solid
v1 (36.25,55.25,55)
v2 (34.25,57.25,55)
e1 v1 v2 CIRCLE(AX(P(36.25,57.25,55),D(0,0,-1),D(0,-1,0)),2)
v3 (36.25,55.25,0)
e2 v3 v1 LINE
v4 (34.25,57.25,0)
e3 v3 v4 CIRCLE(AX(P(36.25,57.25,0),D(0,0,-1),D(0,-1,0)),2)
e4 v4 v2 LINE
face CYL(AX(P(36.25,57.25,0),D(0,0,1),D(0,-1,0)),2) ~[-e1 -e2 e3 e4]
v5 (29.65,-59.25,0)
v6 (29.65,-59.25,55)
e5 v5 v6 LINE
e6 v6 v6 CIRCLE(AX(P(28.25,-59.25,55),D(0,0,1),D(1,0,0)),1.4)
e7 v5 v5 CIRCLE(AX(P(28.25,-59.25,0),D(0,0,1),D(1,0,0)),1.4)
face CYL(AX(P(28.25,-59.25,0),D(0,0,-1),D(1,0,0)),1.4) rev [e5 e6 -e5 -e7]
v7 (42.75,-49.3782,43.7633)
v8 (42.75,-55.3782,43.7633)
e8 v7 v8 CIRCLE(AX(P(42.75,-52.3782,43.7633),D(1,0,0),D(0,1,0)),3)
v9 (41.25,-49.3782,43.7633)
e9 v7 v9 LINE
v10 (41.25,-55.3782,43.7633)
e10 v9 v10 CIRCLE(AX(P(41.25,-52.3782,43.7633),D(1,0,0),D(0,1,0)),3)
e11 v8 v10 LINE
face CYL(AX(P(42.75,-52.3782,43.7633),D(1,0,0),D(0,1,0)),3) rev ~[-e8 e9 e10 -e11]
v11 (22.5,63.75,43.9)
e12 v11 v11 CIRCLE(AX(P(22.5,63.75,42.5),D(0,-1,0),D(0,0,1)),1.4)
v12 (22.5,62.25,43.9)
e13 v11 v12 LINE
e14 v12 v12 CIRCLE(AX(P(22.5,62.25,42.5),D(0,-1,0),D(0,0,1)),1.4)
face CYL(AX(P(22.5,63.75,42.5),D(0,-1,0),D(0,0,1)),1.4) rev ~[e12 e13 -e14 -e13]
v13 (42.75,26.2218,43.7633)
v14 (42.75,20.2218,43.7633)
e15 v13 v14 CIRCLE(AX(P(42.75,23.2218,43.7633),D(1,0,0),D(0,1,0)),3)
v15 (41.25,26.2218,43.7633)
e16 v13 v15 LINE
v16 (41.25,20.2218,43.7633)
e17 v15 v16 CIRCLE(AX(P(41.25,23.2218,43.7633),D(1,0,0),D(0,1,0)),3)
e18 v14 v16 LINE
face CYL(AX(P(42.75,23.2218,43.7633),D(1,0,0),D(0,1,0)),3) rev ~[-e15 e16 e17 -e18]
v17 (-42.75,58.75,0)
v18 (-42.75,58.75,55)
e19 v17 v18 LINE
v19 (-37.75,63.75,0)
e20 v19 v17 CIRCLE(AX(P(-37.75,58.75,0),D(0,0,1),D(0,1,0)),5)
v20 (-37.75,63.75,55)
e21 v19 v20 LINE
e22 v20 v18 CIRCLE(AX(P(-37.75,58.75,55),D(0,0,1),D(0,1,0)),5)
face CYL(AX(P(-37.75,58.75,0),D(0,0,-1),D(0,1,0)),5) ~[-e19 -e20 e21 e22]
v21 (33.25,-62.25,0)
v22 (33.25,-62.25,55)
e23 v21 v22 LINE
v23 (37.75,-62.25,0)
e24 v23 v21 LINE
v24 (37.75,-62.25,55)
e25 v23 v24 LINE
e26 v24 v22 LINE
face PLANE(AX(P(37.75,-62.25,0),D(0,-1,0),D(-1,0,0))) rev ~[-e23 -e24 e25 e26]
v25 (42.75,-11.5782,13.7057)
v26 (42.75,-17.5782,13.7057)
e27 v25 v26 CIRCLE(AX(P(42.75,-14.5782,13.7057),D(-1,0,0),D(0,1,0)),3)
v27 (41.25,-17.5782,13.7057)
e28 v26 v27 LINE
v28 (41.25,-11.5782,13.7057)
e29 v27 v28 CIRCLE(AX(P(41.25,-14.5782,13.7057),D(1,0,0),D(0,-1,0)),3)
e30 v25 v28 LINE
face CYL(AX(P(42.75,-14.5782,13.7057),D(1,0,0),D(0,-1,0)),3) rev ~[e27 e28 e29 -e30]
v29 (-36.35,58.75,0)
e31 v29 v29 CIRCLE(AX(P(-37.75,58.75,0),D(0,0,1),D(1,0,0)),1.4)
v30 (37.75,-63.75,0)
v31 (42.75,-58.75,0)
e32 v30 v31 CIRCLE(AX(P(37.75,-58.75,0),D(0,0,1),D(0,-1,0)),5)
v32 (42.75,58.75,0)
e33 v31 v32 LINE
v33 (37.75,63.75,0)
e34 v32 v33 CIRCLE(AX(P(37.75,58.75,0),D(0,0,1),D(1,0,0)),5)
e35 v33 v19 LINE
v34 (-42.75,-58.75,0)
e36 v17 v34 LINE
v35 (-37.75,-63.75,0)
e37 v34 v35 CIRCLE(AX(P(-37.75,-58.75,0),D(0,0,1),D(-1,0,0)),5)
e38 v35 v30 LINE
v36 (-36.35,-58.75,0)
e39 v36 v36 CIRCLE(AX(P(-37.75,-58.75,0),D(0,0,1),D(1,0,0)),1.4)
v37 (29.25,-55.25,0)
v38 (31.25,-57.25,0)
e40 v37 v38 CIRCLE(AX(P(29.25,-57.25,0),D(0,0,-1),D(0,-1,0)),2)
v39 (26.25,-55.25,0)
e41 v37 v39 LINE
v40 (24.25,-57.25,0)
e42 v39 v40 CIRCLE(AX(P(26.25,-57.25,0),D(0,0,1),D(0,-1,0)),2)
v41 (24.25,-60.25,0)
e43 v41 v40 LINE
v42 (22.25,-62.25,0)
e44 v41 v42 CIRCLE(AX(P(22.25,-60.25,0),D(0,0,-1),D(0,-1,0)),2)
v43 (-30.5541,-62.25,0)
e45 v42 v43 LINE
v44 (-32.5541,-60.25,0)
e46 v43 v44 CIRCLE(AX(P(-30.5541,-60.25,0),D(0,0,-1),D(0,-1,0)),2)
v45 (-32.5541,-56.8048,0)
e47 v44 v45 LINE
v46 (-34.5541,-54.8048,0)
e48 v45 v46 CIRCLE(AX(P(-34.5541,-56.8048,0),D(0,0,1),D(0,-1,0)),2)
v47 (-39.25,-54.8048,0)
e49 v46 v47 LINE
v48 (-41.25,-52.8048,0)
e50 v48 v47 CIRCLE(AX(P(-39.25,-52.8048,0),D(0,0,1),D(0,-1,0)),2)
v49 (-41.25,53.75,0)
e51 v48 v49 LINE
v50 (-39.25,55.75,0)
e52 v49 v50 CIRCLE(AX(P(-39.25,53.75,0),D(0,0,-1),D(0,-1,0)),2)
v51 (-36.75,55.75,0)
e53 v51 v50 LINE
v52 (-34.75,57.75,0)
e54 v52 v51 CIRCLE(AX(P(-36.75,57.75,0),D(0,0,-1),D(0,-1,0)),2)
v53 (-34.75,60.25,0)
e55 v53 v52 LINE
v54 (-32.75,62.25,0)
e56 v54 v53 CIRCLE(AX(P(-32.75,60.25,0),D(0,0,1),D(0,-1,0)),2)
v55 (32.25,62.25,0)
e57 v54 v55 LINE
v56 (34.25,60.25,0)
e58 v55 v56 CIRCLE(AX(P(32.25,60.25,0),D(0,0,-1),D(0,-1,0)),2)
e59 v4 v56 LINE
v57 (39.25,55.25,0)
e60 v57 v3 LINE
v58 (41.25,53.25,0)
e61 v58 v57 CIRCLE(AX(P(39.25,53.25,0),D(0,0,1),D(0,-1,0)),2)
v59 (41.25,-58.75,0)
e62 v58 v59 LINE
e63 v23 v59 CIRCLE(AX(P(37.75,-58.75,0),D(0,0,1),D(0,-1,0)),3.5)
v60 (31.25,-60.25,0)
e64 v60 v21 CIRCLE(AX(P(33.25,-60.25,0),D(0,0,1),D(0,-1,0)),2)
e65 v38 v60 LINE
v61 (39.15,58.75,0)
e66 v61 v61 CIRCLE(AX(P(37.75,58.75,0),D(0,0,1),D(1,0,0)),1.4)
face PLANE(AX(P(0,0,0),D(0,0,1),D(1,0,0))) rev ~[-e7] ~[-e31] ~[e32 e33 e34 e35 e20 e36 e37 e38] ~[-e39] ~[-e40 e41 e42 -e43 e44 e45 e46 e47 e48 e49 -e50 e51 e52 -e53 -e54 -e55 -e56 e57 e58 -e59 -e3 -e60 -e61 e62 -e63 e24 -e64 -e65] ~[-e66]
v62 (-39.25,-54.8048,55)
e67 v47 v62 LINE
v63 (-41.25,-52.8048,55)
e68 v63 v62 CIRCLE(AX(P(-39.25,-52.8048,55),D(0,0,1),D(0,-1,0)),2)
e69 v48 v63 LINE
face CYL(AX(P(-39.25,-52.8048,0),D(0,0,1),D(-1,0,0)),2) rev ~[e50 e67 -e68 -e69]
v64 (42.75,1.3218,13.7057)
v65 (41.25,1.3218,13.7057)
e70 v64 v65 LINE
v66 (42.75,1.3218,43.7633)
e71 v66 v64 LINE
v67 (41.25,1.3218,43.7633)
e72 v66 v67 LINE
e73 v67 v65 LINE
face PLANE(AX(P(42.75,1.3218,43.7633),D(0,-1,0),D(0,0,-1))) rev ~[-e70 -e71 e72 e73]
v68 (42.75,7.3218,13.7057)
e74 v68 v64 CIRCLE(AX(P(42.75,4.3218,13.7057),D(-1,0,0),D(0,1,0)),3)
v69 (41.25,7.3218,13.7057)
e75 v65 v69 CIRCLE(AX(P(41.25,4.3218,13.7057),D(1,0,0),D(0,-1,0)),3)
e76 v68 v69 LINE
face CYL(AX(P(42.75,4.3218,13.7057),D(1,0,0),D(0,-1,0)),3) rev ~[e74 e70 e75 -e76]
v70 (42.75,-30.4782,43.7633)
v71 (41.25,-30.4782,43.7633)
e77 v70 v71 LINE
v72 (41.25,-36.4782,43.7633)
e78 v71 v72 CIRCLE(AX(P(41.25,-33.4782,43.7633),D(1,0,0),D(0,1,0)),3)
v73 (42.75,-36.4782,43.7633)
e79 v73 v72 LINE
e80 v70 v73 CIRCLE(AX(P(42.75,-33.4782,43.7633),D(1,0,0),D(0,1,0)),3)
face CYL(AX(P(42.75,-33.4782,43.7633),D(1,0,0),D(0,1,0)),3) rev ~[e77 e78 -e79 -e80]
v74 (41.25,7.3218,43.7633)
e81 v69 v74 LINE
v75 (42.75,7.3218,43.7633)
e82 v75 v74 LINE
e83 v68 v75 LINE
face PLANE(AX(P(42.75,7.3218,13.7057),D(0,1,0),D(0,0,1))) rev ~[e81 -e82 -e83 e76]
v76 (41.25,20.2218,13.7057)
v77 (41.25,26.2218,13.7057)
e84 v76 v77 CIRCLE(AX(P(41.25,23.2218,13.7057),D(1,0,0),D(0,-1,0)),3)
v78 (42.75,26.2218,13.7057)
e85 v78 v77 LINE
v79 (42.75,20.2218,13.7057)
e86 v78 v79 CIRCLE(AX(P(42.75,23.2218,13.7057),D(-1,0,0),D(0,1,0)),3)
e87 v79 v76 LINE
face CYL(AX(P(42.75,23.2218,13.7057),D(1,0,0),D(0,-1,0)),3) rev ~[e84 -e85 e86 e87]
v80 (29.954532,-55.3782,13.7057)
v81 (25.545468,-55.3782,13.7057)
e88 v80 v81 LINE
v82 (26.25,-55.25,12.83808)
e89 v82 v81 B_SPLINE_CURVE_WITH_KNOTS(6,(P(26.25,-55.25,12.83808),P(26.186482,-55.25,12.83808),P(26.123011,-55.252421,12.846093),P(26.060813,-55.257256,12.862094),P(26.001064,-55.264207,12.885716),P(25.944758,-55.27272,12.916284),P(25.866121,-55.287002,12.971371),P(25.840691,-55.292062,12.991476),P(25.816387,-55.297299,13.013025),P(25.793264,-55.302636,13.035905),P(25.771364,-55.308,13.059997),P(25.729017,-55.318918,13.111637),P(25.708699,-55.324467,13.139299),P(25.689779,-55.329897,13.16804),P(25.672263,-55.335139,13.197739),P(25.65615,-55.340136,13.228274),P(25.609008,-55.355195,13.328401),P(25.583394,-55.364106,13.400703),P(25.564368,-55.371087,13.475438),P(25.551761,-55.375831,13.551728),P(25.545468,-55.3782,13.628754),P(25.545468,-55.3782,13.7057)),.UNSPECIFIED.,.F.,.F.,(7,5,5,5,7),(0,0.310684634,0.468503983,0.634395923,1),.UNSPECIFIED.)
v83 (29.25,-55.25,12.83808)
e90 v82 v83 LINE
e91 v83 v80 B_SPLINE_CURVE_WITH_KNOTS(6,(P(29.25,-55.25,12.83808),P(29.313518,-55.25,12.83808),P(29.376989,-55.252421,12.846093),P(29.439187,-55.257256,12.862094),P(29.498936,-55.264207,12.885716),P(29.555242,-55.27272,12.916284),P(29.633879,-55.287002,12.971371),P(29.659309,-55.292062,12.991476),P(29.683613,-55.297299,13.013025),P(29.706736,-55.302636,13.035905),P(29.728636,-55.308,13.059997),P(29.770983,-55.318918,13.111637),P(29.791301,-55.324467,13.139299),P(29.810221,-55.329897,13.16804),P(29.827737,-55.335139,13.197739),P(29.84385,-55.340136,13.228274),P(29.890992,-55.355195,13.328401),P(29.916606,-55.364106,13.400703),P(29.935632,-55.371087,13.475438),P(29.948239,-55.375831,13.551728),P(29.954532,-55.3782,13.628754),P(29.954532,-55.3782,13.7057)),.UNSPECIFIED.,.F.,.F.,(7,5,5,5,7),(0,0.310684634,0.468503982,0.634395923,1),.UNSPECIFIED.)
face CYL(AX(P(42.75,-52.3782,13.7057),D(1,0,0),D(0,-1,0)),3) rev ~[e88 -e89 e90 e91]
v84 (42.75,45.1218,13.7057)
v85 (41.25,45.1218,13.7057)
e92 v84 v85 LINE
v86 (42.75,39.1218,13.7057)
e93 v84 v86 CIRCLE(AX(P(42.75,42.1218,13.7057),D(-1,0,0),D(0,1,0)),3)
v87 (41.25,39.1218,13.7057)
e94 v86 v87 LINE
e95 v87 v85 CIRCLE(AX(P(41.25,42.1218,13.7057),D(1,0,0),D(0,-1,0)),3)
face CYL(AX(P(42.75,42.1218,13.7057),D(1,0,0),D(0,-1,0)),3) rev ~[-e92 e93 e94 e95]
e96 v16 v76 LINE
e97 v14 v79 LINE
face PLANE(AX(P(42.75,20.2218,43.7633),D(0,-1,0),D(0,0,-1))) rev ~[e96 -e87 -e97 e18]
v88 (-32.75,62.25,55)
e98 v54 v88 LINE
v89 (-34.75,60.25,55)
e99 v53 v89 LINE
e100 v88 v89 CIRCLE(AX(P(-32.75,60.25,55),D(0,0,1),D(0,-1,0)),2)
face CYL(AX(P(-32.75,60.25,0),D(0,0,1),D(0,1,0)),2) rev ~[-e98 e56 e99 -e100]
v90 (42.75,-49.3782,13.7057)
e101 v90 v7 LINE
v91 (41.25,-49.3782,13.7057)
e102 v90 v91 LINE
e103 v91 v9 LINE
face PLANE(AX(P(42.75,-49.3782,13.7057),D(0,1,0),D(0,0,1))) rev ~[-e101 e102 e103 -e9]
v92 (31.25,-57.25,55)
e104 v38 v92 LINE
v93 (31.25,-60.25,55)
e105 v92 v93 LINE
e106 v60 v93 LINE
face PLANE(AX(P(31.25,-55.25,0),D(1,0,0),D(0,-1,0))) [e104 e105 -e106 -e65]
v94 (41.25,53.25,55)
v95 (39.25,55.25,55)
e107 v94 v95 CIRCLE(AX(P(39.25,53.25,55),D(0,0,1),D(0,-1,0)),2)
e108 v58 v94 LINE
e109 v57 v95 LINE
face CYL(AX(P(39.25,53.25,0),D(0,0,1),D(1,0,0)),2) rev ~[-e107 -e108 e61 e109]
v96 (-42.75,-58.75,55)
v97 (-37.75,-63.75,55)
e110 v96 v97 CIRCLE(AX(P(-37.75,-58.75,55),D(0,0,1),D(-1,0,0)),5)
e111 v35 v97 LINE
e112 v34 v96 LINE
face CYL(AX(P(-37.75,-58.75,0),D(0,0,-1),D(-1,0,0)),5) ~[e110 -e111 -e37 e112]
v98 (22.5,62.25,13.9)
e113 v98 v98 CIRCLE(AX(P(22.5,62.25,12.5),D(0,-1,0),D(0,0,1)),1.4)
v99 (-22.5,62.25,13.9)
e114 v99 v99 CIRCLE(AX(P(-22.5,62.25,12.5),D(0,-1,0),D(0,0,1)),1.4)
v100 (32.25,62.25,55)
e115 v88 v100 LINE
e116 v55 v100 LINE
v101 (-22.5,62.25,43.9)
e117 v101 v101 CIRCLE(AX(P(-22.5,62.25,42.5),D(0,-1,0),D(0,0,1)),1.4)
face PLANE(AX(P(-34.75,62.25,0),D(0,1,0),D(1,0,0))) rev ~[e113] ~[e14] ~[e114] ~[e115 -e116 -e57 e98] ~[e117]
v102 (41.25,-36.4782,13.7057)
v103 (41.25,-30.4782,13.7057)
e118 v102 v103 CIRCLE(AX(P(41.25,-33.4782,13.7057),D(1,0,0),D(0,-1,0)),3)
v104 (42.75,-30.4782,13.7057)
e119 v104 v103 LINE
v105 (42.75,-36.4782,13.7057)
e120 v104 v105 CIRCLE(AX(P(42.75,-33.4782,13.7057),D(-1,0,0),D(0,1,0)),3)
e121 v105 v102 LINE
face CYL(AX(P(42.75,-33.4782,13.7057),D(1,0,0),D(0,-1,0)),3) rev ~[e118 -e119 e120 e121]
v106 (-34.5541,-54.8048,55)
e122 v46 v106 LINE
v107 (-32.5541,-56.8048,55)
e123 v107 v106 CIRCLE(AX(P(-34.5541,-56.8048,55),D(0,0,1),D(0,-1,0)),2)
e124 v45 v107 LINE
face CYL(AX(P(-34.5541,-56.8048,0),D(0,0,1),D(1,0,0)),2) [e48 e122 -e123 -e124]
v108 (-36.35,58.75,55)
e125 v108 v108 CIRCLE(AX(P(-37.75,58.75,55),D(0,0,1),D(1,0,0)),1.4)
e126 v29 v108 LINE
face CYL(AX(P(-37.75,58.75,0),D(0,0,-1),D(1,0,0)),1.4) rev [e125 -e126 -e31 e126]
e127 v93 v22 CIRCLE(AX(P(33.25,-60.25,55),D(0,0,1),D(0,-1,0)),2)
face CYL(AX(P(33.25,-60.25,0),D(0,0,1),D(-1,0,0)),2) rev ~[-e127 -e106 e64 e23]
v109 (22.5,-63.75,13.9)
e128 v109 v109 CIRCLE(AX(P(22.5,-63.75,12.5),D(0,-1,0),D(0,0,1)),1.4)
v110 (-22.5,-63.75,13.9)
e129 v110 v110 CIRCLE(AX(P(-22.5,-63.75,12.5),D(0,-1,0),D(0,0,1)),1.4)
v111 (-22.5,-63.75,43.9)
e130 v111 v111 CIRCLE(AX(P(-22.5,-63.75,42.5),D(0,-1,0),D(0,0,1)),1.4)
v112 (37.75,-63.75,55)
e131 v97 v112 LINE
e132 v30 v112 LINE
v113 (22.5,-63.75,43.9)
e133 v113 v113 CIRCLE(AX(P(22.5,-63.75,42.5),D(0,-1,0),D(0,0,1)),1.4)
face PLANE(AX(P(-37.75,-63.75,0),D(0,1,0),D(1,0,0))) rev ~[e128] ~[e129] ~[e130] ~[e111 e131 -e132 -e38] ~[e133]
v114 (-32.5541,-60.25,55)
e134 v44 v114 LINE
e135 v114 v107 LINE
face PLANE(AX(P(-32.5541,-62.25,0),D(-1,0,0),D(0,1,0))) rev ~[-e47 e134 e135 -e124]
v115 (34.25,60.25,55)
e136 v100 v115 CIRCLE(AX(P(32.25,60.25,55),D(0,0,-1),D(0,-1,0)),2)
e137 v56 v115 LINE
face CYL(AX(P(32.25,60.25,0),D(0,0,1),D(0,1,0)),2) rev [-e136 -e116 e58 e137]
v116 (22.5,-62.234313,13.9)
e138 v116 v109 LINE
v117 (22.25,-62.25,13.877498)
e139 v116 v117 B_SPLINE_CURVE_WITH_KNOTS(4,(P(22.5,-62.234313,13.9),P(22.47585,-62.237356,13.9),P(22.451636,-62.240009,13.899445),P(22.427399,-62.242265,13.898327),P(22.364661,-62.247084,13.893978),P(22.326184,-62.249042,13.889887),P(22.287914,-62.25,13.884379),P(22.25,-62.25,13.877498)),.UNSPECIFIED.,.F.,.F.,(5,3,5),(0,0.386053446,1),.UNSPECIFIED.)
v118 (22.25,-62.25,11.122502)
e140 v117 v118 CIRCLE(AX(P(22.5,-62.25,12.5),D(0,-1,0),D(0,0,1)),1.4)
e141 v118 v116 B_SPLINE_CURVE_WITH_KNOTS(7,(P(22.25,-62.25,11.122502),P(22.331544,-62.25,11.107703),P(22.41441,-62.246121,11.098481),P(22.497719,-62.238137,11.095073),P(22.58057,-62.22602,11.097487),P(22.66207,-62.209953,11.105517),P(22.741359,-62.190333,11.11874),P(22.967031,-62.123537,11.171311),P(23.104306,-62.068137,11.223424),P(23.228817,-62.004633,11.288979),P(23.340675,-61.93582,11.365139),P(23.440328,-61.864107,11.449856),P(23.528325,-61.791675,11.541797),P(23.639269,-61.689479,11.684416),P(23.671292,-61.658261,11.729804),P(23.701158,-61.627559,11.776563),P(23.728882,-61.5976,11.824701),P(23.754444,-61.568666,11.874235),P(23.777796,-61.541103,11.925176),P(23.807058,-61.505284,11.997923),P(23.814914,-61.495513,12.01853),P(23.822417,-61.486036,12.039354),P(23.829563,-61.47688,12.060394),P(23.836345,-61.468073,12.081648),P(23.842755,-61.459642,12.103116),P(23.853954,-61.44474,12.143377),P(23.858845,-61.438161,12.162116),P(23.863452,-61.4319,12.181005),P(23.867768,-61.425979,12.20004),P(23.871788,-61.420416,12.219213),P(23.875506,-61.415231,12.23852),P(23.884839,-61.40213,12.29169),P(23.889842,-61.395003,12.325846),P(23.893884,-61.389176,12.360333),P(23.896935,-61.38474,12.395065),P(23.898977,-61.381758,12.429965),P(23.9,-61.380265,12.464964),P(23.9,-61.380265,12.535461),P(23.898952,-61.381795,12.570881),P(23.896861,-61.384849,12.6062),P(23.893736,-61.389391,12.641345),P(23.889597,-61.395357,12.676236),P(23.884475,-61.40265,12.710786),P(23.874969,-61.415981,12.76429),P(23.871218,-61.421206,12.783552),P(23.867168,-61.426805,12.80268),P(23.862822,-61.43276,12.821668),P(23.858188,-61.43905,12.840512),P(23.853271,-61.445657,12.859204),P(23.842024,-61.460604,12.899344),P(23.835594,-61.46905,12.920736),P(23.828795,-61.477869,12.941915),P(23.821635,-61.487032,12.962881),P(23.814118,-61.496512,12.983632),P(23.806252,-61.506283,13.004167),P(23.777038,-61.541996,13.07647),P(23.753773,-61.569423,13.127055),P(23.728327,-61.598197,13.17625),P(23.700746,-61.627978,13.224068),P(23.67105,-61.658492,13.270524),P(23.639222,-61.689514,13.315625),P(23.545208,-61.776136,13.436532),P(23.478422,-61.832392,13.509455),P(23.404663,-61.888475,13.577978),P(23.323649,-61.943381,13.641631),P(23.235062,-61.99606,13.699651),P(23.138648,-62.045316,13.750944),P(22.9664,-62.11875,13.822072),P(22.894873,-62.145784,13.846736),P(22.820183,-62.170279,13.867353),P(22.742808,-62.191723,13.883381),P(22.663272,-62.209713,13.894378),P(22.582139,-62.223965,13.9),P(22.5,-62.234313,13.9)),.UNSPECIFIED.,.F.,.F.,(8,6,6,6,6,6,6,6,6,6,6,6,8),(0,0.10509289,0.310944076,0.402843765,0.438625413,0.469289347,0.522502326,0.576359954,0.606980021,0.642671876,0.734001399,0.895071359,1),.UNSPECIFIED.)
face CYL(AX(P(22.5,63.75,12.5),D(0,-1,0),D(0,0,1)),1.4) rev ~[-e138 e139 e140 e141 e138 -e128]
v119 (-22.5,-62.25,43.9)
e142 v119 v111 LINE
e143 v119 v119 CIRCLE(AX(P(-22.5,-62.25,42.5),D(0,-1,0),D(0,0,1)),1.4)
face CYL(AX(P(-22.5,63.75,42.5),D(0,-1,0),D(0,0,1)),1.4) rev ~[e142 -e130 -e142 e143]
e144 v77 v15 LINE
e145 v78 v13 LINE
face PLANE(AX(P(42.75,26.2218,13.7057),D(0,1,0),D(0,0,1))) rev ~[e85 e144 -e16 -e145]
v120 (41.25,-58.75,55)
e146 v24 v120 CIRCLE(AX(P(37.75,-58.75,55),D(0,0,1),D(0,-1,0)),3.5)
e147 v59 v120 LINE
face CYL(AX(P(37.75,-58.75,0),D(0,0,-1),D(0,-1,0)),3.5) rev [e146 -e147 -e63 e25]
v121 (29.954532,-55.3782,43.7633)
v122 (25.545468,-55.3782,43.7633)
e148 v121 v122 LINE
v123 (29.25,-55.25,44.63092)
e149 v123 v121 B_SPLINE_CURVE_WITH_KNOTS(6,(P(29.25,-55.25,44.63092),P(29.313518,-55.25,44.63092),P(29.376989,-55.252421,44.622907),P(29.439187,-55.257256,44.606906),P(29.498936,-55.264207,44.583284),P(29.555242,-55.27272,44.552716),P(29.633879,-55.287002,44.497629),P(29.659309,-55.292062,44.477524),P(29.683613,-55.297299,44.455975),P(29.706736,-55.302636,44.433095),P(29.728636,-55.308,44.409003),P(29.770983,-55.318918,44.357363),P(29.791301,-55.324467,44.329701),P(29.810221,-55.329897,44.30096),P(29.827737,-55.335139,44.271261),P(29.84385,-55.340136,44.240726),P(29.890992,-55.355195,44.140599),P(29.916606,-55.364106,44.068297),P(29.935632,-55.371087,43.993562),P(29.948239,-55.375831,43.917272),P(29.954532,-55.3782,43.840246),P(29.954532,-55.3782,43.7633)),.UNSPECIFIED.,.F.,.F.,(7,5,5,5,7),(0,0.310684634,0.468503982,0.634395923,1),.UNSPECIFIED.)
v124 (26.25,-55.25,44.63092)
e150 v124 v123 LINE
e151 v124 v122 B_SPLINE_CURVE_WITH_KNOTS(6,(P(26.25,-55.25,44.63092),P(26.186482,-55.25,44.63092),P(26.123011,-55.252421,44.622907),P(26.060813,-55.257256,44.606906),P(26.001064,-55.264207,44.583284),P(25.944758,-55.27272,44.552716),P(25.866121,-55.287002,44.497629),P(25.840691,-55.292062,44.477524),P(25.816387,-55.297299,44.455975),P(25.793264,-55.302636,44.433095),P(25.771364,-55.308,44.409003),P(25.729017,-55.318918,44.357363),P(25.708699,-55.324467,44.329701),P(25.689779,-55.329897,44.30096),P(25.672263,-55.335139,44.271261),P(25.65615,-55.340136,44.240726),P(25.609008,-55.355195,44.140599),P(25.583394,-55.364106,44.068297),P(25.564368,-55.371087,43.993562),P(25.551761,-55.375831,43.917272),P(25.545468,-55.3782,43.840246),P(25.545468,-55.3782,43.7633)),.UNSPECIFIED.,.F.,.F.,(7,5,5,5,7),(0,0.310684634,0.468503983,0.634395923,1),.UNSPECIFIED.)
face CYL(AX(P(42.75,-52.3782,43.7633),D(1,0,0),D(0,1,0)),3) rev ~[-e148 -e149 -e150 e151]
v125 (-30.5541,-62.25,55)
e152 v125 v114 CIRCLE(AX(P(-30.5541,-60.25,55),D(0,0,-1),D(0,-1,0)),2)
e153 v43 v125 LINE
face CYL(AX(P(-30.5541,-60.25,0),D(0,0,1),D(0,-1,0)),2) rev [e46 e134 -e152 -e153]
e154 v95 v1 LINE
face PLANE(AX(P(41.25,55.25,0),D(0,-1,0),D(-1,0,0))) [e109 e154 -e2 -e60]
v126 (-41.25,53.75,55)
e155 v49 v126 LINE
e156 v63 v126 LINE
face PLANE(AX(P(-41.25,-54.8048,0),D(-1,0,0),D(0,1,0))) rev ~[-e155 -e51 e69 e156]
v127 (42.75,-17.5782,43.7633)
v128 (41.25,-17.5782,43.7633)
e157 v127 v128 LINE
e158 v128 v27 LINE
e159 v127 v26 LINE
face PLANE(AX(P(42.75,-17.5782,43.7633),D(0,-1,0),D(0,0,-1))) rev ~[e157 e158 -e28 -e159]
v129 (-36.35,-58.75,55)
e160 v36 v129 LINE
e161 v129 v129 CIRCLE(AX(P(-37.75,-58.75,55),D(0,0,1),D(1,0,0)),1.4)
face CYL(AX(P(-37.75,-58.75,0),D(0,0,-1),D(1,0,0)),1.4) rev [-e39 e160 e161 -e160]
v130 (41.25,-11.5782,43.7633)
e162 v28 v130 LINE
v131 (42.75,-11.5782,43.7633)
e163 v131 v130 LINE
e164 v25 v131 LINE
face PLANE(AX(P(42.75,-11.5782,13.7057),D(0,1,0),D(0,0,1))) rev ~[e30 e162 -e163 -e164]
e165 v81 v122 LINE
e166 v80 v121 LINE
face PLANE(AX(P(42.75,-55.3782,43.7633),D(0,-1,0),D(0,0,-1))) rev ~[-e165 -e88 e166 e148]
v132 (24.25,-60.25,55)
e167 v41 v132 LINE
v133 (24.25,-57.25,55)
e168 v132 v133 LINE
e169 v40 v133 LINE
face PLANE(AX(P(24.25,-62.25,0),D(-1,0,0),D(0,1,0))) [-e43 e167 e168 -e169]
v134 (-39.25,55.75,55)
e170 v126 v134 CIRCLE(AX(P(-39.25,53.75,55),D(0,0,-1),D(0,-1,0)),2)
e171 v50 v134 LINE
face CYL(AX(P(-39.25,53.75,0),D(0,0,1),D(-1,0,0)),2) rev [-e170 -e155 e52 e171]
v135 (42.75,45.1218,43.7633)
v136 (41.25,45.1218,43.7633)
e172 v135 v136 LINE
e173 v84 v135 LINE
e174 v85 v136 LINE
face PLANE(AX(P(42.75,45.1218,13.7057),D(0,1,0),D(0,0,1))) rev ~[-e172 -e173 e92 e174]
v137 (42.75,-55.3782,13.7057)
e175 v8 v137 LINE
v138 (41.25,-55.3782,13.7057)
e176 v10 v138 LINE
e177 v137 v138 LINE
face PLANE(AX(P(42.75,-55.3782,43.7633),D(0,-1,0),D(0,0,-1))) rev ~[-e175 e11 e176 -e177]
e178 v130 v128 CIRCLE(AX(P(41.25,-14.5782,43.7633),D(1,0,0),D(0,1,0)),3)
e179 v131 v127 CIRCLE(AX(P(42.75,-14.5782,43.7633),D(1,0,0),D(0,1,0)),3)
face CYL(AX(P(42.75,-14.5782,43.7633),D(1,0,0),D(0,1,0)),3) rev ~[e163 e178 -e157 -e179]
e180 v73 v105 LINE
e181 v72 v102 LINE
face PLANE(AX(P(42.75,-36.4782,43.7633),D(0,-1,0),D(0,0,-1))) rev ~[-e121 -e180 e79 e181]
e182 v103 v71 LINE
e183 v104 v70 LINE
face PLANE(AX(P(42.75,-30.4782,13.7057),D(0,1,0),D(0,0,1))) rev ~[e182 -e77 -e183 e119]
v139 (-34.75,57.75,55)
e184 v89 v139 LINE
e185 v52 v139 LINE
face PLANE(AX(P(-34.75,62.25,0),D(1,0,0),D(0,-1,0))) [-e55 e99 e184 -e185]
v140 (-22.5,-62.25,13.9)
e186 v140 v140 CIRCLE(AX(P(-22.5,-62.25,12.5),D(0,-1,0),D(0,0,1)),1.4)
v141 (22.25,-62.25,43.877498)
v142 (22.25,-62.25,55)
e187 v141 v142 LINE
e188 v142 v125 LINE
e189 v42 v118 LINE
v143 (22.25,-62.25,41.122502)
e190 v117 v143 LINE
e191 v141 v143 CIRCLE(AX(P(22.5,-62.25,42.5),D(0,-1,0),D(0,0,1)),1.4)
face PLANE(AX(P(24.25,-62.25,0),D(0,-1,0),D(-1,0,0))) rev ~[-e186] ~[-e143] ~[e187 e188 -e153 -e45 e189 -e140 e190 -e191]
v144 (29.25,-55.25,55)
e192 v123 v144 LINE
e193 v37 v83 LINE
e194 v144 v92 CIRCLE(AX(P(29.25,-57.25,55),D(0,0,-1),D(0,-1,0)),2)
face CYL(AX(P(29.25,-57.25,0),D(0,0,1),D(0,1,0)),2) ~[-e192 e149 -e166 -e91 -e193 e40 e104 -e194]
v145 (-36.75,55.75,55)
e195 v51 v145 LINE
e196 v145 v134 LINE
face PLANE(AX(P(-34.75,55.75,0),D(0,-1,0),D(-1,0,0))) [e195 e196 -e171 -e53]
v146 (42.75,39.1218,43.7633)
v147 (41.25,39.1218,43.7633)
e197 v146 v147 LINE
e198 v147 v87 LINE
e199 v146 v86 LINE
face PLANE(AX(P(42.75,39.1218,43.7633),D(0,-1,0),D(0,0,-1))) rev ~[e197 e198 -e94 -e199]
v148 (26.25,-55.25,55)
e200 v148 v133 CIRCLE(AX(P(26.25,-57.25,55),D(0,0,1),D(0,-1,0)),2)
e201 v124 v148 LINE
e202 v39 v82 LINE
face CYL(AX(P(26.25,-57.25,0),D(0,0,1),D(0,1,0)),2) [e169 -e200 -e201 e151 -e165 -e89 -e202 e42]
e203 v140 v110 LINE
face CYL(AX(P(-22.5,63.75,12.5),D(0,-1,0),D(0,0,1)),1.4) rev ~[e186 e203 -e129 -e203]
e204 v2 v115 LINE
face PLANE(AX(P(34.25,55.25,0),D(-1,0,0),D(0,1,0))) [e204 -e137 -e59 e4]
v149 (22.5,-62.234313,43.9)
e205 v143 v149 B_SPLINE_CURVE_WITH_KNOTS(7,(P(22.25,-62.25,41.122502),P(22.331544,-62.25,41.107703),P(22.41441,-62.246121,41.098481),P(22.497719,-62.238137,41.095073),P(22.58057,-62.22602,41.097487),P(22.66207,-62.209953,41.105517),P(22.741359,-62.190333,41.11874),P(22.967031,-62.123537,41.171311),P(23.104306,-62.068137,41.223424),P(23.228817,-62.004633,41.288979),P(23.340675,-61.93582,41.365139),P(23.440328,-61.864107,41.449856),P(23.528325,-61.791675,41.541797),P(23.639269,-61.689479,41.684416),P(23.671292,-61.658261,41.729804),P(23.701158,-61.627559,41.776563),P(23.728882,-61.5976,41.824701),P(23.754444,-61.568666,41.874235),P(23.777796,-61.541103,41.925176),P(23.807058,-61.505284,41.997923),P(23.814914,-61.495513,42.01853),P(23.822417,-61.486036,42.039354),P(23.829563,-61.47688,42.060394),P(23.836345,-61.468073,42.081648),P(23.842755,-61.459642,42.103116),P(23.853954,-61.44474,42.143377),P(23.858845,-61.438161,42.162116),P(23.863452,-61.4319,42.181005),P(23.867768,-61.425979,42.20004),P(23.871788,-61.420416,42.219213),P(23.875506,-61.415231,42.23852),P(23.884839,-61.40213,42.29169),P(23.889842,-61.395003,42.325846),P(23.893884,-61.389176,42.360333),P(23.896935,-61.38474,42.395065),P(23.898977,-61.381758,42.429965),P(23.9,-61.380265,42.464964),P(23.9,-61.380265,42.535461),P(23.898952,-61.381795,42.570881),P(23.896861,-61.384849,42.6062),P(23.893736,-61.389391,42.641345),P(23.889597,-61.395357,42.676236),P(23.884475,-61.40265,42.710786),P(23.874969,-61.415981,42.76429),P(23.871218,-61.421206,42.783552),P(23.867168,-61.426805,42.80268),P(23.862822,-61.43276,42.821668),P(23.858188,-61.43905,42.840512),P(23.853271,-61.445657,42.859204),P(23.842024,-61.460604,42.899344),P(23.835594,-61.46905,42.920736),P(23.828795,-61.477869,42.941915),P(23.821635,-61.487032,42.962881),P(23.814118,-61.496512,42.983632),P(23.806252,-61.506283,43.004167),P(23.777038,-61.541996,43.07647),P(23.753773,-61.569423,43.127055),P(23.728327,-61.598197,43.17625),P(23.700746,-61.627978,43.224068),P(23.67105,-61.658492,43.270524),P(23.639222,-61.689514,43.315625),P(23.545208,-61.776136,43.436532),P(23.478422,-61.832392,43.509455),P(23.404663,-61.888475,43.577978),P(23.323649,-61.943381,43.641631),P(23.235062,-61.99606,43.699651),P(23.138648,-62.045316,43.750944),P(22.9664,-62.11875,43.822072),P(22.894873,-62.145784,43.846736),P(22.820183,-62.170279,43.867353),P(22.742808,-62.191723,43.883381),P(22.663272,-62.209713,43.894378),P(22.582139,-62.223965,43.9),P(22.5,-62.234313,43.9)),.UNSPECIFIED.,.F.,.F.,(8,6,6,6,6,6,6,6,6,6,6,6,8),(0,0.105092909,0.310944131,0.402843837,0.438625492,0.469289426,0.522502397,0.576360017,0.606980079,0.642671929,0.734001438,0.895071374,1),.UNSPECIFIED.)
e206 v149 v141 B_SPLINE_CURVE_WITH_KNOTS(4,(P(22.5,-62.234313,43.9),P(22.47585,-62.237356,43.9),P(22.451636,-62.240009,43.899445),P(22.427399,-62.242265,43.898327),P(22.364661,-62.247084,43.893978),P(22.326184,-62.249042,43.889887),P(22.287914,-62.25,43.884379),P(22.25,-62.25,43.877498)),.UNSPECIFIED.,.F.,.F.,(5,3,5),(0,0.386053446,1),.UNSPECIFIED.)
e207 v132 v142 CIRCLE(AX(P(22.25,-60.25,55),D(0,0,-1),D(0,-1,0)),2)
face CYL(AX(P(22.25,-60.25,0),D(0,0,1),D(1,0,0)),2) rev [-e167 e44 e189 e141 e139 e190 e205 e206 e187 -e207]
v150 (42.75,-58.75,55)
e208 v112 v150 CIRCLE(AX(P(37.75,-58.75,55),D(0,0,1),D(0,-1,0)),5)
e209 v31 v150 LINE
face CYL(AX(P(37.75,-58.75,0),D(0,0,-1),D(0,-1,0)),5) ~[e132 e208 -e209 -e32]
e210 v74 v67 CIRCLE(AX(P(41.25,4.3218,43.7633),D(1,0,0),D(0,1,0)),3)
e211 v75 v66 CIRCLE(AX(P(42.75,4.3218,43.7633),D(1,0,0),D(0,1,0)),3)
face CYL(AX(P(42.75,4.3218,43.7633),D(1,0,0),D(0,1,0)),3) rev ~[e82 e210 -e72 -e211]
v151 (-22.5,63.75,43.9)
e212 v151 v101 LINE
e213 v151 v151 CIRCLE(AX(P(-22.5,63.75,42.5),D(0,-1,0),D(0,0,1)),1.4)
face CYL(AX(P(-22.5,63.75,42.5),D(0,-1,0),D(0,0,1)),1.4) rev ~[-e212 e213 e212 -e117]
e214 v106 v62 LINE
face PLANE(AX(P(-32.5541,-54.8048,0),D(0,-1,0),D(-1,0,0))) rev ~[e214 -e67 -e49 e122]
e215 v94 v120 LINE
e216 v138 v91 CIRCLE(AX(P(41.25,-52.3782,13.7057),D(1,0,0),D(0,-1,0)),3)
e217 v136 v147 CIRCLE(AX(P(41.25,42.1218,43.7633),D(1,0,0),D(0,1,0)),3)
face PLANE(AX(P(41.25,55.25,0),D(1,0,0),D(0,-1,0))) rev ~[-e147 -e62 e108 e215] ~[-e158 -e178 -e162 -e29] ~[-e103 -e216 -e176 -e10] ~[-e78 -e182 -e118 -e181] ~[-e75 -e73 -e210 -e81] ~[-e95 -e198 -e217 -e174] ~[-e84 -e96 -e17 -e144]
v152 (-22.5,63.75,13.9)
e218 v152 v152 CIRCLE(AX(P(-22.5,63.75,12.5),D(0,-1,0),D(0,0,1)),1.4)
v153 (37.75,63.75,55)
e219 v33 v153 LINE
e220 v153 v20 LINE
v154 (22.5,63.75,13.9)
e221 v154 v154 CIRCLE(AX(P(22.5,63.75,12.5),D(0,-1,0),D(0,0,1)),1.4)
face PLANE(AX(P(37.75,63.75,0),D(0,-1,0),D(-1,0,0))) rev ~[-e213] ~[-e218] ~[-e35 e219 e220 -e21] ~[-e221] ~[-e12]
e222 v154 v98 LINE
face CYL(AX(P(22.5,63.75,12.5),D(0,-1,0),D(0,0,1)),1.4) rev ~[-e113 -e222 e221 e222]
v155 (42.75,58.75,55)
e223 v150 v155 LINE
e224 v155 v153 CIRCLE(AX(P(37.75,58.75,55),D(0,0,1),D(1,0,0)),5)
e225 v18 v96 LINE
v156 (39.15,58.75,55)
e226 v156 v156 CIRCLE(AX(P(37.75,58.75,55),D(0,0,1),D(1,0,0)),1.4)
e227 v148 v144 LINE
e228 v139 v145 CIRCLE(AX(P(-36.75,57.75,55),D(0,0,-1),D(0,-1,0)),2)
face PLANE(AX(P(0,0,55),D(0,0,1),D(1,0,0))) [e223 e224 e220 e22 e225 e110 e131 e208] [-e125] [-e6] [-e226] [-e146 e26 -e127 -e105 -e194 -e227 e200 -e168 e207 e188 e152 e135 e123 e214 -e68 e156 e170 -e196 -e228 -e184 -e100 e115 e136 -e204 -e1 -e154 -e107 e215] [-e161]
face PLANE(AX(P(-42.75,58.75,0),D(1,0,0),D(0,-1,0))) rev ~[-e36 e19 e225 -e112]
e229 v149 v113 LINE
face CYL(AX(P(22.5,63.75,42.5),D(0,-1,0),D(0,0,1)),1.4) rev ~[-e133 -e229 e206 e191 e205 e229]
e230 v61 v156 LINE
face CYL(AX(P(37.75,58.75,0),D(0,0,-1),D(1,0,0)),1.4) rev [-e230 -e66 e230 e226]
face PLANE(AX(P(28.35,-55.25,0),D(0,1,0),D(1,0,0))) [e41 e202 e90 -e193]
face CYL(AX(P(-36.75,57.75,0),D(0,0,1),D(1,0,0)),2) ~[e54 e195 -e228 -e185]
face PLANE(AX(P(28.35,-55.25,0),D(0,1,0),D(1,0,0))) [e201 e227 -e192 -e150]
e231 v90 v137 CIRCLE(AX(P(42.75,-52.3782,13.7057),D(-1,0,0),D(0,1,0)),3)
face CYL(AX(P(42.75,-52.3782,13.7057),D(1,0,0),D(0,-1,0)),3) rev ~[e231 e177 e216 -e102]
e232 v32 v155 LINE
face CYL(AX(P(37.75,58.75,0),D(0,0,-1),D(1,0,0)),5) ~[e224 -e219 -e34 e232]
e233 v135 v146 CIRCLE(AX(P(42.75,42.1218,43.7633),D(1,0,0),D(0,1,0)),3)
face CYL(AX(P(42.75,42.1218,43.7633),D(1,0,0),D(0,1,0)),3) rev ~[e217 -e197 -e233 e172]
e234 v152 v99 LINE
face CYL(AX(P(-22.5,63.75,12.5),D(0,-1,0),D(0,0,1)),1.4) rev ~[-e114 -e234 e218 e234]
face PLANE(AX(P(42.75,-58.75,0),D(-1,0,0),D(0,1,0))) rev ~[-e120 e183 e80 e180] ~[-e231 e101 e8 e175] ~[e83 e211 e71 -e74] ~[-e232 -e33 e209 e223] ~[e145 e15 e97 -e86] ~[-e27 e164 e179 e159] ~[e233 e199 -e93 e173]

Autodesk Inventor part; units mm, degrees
ref_plane "YZ Plane" through (0, 0, 0) normal (1, 0, 0) x (0, 1, 0)
ref_plane "XZ Plane" through (0, 0, 0) normal (0, 1, 0) x (-1, 0, 0)
ref_plane "Arbeitsebene1" through (0, 0, 0) normal (0, 0, 1) x (1, 0, 0)
sketch "Skizze1" plane through (0, 0, 0) normal (0, 0, 1) x (1, 0, 0)
  circle A0 centre (37.75, -58.75) radius 1.4 projected
  circle A1 centre (37.75, 58.75) radius 1.4 projected
  circle A2 centre (-37.75, 58.75) radius 1.4 projected
  circle A3 centre (-37.75, -58.75) radius 1.4 projected
  circle A4 centre (-28.35, -47.25) radius 8 projected
  circle A5 centre (-28.35, -28.35) radius 8 projected
  circle A6 centre (-28.35, -9.45) radius 8 projected
  circle A7 centre (-28.35, 9.45) radius 8 projected
  circle A8 centre (-28.35, 28.35) radius 8 projected
  circle A9 centre (-28.35, 47.25) radius 8 projected
  circle A10 centre (-9.45, -47.25) radius 8 projected
  circle A11 centre (-9.45, -28.35) radius 8 projected
  circle A12 centre (-9.45, -9.45) radius 8 projected
  circle A13 centre (-9.45, 9.45) radius 8 projected
  circle A14 centre (-9.45, 28.35) radius 8 projected
  circle A15 centre (-9.45, 47.25) radius 8 projected
  circle A16 centre (9.45, -47.25) radius 8 projected
  circle A17 centre (9.45, -28.35) radius 8 projected
  circle A18 centre (9.45, -9.45) radius 8 projected
  circle A19 centre (9.45, 9.45) radius 8 projected
  circle A20 centre (9.45, 28.35) radius 8 projected
  circle A21 centre (9.45, 47.25) radius 8 projected
  circle A22 centre (28.35, -47.25) radius 8 projected
  circle A23 centre (28.35, -28.35) radius 8 projected
  circle A24 centre (28.35, -9.45) radius 8 projected
  circle A25 centre (28.35, 9.45) radius 8 projected
  circle A26 centre (28.35, 28.35) radius 8 projected
  arc A27 (37.75, -63.75) -> (42.75, -58.75) centre (37.75, -58.75) ccw projected
  line L0 (42.75, -58.75) -> (42.75, 58.75) projected
  arc A28 (42.75, 58.75) -> (37.75, 63.75) centre (37.75, 58.75) ccw projected
  line L1 (37.75, 63.75) -> (-37.75, 63.75) projected
  arc A29 (-37.75, 63.75) -> (-42.75, 58.75) centre (-37.75, 58.75) ccw projected
  line L2 (-42.75, 58.75) -> (-42.75, -58.75) projected
  arc A30 (-42.75, -58.75) -> (-37.75, -63.75) centre (-37.75, -58.75) ccw projected
  line L3 (-37.75, -63.75) -> (37.75, -63.75) projected
  circle A31 centre (28.35, 47.25) radius 8 projected
  line L4 (41.25, 58.75) -> (41.25, -58.75)
  arc A32 (37.75, -62.25) -> (41.25, -58.75) centre (37.75, -58.75) ccw
  line L5 (37.75, -62.25) -> (-37.75, -62.25)
  arc A33 (-41.25, -58.75) -> (-37.75, -62.25) centre (-37.75, -58.75) ccw
  line L6 (-41.25, -58.75) -> (-41.25, 58.75)
  arc A34 (-37.75, 62.25) -> (-41.25, 58.75) centre (-37.75, 58.75) ccw
  line L7 (-37.75, 62.25) -> (37.75, 62.25)
  arc A35 (41.25, 58.75) -> (37.75, 62.25) centre (37.75, 58.75) ccw
  line L8 (-34.75, 62.25) -> (-34.75, 55.75)
  line L9 (-34.75, 55.75) -> (-41.25, 55.75)
  line L10 (-32.5541, -62.25) -> (-32.5541, -54.8048)
  line L11 (-32.5541, -54.8048) -> (-41.25, -54.8048)
  line L12 (41.25, 55.25) -> (34.25, 55.25)
  line L13 (34.25, 55.25) -> (34.25, 62.25)
  line L14 (31.25, -62.25) -> (24.25, -62.25)
  line L15 (24.25, -62.25) -> (24.25, -55.25)
  line L16 (24.25, -55.25) -> (31.25, -55.25)
  line L17 (31.25, -55.25) -> (31.25, -62.25)
  circle A36 centre (28.25, -59.25) radius 1.4
  point P0 (0, 0)
  point P1 (24.25, -62.25)
  dimension "d0" = 1.5
  dimension "d1" = 3
  dimension "d2" = 3
  dimension "d5" = 7
  dimension "d6" = 7
  dimension "d7" = 7
  dimension "d8" = 7
  dimension "d9" = 10
  dimension "d10" = 2.8
ref_plane "Arbeitsebene2" through (23.1342, 37.0359, 54) normal (0, 0, 1) x (0.8192, 0.5736, 0)
extrude "Extrusion1" add sketch "Skizze1" along normal blind 55 contours L16 L17 L5 L15 | L5 A33 L6 L11 L10 | L12 L13 L7 A35 L4 | L6 A34 L7 L8 L9 | L3 A30 L2 A29 L1 A28 L0 A27
fillet "Rundung1" radius 2 13 edges at (-32.5541, -54.8048, 27.5) (-41.25, -54.8048, 27.5) (-32.5541, -62.25, 27.5) (24.25, -62.25, 27.5) (24.25, -55.25, 27.5) (31.25, -55.25, 27.5) (31.25, -62.25, 27.5) (41.25, 55.25, 27.5) (34.25, 55.25, 27.5) (34.25, 62.25, 27.5) (-34.75, 55.75, 27.5) (-41.25, 55.75, 27.5) (-34.75, 62.25, 27.5)
sketch "Skizze4" plane through (42.75, -58.75, 0) normal (1, 0, 0) x (0, 0, -1)
  line L0 (-43.7633, 6.3718) -> (-13.7057, 6.3718) construction
  line L1 (0, 5.9452) -> (-55, 5.9452) projected
  line L2 (-43.7633, 3.3718) -> (-13.7057, 3.3718)
  line L3 (-13.7057, 9.3718) -> (-43.7633, 9.3718)
  arc A0 (-43.7633, 9.3718) -> (-43.7633, 3.3718) centre (-43.7633, 6.3718) ccw
  arc A1 (-13.7057, 3.3718) -> (-13.7057, 9.3718) centre (-13.7057, 6.3718) ccw
  point P0 (0, 58.75)
  point P1 (-36.8275, 7.2035)
  point P2 (-36.1925, 26.1035)
  point P3 (-36.1925, 45.0035)
  point P4 (-36.1925, 63.9035)
  point P5 (-36.1925, 82.8035)
  point P6 (-36.1925, 101.7035)
  point P7 (-28.7345, 6.3718)
  dimension "d29" = 6
extrude "Extrusion4" cut sketch "Skizze4" against normal blind 55
pattern_linear "Rechteckige Anordnung2" count 6 spacing 18.9 along (0, 1, 0) of "Extrusion4"
ref_plane "Arbeitsebene3" through (0, -58.75, 0) normal (1, 0, 0) x (0, 0, -1)
ref_plane "Arbeitsebene4" through (-37.75, 0, 0) normal (0, 1, 0) x (1, 0, 0)
sketch "Skizze5" plane through (-37.75, 63.75, 0) normal (0, 1, 0) x (1, 0, 0)
  line L0 (75.5, 0) -> (0, 0) projected
  line L1 (0, 0) -> (0, -55) projected
  line L2 (75.5, -55) -> (0, -55) projected
  line L3 (75.5, 0) -> (75.5, -55) projected
  line L4 (60.25, -42.5) -> (15.25, -42.5)
  line L5 (15.25, -42.5) -> (15.25, -12.5)
  line L6 (15.25, -12.5) -> (60.25, -12.5)
  line L7 (60.25, -12.5) -> (60.25, -42.5)
  line L8 (60.25, -42.5) -> (15.25, -12.5) construction
  line L9 (15.25, -42.5) -> (60.25, -12.5) construction
  point P0 (37.75, 0)
  point P1 (52.5946, -34.1859)
  point P2 (37.75, -27.5)
  dimension "d35" = 45
  dimension "d36" = 30
hole "Bohrung1" at (22.5, 63.75, 42.5) at (-22.5, 63.75, 42.5) at (-22.5, 63.75, 12.5) at (22.5, 63.75, 12.5) direction (0, -1, 0) diameter 2.8 end through all
ref_plane "Arbeitsebene5" through (-37.75, 0, 0) normal (0, 1, 0) x (1, 0, 0)
properties part number "Omniscope_sidewalls_v0"
